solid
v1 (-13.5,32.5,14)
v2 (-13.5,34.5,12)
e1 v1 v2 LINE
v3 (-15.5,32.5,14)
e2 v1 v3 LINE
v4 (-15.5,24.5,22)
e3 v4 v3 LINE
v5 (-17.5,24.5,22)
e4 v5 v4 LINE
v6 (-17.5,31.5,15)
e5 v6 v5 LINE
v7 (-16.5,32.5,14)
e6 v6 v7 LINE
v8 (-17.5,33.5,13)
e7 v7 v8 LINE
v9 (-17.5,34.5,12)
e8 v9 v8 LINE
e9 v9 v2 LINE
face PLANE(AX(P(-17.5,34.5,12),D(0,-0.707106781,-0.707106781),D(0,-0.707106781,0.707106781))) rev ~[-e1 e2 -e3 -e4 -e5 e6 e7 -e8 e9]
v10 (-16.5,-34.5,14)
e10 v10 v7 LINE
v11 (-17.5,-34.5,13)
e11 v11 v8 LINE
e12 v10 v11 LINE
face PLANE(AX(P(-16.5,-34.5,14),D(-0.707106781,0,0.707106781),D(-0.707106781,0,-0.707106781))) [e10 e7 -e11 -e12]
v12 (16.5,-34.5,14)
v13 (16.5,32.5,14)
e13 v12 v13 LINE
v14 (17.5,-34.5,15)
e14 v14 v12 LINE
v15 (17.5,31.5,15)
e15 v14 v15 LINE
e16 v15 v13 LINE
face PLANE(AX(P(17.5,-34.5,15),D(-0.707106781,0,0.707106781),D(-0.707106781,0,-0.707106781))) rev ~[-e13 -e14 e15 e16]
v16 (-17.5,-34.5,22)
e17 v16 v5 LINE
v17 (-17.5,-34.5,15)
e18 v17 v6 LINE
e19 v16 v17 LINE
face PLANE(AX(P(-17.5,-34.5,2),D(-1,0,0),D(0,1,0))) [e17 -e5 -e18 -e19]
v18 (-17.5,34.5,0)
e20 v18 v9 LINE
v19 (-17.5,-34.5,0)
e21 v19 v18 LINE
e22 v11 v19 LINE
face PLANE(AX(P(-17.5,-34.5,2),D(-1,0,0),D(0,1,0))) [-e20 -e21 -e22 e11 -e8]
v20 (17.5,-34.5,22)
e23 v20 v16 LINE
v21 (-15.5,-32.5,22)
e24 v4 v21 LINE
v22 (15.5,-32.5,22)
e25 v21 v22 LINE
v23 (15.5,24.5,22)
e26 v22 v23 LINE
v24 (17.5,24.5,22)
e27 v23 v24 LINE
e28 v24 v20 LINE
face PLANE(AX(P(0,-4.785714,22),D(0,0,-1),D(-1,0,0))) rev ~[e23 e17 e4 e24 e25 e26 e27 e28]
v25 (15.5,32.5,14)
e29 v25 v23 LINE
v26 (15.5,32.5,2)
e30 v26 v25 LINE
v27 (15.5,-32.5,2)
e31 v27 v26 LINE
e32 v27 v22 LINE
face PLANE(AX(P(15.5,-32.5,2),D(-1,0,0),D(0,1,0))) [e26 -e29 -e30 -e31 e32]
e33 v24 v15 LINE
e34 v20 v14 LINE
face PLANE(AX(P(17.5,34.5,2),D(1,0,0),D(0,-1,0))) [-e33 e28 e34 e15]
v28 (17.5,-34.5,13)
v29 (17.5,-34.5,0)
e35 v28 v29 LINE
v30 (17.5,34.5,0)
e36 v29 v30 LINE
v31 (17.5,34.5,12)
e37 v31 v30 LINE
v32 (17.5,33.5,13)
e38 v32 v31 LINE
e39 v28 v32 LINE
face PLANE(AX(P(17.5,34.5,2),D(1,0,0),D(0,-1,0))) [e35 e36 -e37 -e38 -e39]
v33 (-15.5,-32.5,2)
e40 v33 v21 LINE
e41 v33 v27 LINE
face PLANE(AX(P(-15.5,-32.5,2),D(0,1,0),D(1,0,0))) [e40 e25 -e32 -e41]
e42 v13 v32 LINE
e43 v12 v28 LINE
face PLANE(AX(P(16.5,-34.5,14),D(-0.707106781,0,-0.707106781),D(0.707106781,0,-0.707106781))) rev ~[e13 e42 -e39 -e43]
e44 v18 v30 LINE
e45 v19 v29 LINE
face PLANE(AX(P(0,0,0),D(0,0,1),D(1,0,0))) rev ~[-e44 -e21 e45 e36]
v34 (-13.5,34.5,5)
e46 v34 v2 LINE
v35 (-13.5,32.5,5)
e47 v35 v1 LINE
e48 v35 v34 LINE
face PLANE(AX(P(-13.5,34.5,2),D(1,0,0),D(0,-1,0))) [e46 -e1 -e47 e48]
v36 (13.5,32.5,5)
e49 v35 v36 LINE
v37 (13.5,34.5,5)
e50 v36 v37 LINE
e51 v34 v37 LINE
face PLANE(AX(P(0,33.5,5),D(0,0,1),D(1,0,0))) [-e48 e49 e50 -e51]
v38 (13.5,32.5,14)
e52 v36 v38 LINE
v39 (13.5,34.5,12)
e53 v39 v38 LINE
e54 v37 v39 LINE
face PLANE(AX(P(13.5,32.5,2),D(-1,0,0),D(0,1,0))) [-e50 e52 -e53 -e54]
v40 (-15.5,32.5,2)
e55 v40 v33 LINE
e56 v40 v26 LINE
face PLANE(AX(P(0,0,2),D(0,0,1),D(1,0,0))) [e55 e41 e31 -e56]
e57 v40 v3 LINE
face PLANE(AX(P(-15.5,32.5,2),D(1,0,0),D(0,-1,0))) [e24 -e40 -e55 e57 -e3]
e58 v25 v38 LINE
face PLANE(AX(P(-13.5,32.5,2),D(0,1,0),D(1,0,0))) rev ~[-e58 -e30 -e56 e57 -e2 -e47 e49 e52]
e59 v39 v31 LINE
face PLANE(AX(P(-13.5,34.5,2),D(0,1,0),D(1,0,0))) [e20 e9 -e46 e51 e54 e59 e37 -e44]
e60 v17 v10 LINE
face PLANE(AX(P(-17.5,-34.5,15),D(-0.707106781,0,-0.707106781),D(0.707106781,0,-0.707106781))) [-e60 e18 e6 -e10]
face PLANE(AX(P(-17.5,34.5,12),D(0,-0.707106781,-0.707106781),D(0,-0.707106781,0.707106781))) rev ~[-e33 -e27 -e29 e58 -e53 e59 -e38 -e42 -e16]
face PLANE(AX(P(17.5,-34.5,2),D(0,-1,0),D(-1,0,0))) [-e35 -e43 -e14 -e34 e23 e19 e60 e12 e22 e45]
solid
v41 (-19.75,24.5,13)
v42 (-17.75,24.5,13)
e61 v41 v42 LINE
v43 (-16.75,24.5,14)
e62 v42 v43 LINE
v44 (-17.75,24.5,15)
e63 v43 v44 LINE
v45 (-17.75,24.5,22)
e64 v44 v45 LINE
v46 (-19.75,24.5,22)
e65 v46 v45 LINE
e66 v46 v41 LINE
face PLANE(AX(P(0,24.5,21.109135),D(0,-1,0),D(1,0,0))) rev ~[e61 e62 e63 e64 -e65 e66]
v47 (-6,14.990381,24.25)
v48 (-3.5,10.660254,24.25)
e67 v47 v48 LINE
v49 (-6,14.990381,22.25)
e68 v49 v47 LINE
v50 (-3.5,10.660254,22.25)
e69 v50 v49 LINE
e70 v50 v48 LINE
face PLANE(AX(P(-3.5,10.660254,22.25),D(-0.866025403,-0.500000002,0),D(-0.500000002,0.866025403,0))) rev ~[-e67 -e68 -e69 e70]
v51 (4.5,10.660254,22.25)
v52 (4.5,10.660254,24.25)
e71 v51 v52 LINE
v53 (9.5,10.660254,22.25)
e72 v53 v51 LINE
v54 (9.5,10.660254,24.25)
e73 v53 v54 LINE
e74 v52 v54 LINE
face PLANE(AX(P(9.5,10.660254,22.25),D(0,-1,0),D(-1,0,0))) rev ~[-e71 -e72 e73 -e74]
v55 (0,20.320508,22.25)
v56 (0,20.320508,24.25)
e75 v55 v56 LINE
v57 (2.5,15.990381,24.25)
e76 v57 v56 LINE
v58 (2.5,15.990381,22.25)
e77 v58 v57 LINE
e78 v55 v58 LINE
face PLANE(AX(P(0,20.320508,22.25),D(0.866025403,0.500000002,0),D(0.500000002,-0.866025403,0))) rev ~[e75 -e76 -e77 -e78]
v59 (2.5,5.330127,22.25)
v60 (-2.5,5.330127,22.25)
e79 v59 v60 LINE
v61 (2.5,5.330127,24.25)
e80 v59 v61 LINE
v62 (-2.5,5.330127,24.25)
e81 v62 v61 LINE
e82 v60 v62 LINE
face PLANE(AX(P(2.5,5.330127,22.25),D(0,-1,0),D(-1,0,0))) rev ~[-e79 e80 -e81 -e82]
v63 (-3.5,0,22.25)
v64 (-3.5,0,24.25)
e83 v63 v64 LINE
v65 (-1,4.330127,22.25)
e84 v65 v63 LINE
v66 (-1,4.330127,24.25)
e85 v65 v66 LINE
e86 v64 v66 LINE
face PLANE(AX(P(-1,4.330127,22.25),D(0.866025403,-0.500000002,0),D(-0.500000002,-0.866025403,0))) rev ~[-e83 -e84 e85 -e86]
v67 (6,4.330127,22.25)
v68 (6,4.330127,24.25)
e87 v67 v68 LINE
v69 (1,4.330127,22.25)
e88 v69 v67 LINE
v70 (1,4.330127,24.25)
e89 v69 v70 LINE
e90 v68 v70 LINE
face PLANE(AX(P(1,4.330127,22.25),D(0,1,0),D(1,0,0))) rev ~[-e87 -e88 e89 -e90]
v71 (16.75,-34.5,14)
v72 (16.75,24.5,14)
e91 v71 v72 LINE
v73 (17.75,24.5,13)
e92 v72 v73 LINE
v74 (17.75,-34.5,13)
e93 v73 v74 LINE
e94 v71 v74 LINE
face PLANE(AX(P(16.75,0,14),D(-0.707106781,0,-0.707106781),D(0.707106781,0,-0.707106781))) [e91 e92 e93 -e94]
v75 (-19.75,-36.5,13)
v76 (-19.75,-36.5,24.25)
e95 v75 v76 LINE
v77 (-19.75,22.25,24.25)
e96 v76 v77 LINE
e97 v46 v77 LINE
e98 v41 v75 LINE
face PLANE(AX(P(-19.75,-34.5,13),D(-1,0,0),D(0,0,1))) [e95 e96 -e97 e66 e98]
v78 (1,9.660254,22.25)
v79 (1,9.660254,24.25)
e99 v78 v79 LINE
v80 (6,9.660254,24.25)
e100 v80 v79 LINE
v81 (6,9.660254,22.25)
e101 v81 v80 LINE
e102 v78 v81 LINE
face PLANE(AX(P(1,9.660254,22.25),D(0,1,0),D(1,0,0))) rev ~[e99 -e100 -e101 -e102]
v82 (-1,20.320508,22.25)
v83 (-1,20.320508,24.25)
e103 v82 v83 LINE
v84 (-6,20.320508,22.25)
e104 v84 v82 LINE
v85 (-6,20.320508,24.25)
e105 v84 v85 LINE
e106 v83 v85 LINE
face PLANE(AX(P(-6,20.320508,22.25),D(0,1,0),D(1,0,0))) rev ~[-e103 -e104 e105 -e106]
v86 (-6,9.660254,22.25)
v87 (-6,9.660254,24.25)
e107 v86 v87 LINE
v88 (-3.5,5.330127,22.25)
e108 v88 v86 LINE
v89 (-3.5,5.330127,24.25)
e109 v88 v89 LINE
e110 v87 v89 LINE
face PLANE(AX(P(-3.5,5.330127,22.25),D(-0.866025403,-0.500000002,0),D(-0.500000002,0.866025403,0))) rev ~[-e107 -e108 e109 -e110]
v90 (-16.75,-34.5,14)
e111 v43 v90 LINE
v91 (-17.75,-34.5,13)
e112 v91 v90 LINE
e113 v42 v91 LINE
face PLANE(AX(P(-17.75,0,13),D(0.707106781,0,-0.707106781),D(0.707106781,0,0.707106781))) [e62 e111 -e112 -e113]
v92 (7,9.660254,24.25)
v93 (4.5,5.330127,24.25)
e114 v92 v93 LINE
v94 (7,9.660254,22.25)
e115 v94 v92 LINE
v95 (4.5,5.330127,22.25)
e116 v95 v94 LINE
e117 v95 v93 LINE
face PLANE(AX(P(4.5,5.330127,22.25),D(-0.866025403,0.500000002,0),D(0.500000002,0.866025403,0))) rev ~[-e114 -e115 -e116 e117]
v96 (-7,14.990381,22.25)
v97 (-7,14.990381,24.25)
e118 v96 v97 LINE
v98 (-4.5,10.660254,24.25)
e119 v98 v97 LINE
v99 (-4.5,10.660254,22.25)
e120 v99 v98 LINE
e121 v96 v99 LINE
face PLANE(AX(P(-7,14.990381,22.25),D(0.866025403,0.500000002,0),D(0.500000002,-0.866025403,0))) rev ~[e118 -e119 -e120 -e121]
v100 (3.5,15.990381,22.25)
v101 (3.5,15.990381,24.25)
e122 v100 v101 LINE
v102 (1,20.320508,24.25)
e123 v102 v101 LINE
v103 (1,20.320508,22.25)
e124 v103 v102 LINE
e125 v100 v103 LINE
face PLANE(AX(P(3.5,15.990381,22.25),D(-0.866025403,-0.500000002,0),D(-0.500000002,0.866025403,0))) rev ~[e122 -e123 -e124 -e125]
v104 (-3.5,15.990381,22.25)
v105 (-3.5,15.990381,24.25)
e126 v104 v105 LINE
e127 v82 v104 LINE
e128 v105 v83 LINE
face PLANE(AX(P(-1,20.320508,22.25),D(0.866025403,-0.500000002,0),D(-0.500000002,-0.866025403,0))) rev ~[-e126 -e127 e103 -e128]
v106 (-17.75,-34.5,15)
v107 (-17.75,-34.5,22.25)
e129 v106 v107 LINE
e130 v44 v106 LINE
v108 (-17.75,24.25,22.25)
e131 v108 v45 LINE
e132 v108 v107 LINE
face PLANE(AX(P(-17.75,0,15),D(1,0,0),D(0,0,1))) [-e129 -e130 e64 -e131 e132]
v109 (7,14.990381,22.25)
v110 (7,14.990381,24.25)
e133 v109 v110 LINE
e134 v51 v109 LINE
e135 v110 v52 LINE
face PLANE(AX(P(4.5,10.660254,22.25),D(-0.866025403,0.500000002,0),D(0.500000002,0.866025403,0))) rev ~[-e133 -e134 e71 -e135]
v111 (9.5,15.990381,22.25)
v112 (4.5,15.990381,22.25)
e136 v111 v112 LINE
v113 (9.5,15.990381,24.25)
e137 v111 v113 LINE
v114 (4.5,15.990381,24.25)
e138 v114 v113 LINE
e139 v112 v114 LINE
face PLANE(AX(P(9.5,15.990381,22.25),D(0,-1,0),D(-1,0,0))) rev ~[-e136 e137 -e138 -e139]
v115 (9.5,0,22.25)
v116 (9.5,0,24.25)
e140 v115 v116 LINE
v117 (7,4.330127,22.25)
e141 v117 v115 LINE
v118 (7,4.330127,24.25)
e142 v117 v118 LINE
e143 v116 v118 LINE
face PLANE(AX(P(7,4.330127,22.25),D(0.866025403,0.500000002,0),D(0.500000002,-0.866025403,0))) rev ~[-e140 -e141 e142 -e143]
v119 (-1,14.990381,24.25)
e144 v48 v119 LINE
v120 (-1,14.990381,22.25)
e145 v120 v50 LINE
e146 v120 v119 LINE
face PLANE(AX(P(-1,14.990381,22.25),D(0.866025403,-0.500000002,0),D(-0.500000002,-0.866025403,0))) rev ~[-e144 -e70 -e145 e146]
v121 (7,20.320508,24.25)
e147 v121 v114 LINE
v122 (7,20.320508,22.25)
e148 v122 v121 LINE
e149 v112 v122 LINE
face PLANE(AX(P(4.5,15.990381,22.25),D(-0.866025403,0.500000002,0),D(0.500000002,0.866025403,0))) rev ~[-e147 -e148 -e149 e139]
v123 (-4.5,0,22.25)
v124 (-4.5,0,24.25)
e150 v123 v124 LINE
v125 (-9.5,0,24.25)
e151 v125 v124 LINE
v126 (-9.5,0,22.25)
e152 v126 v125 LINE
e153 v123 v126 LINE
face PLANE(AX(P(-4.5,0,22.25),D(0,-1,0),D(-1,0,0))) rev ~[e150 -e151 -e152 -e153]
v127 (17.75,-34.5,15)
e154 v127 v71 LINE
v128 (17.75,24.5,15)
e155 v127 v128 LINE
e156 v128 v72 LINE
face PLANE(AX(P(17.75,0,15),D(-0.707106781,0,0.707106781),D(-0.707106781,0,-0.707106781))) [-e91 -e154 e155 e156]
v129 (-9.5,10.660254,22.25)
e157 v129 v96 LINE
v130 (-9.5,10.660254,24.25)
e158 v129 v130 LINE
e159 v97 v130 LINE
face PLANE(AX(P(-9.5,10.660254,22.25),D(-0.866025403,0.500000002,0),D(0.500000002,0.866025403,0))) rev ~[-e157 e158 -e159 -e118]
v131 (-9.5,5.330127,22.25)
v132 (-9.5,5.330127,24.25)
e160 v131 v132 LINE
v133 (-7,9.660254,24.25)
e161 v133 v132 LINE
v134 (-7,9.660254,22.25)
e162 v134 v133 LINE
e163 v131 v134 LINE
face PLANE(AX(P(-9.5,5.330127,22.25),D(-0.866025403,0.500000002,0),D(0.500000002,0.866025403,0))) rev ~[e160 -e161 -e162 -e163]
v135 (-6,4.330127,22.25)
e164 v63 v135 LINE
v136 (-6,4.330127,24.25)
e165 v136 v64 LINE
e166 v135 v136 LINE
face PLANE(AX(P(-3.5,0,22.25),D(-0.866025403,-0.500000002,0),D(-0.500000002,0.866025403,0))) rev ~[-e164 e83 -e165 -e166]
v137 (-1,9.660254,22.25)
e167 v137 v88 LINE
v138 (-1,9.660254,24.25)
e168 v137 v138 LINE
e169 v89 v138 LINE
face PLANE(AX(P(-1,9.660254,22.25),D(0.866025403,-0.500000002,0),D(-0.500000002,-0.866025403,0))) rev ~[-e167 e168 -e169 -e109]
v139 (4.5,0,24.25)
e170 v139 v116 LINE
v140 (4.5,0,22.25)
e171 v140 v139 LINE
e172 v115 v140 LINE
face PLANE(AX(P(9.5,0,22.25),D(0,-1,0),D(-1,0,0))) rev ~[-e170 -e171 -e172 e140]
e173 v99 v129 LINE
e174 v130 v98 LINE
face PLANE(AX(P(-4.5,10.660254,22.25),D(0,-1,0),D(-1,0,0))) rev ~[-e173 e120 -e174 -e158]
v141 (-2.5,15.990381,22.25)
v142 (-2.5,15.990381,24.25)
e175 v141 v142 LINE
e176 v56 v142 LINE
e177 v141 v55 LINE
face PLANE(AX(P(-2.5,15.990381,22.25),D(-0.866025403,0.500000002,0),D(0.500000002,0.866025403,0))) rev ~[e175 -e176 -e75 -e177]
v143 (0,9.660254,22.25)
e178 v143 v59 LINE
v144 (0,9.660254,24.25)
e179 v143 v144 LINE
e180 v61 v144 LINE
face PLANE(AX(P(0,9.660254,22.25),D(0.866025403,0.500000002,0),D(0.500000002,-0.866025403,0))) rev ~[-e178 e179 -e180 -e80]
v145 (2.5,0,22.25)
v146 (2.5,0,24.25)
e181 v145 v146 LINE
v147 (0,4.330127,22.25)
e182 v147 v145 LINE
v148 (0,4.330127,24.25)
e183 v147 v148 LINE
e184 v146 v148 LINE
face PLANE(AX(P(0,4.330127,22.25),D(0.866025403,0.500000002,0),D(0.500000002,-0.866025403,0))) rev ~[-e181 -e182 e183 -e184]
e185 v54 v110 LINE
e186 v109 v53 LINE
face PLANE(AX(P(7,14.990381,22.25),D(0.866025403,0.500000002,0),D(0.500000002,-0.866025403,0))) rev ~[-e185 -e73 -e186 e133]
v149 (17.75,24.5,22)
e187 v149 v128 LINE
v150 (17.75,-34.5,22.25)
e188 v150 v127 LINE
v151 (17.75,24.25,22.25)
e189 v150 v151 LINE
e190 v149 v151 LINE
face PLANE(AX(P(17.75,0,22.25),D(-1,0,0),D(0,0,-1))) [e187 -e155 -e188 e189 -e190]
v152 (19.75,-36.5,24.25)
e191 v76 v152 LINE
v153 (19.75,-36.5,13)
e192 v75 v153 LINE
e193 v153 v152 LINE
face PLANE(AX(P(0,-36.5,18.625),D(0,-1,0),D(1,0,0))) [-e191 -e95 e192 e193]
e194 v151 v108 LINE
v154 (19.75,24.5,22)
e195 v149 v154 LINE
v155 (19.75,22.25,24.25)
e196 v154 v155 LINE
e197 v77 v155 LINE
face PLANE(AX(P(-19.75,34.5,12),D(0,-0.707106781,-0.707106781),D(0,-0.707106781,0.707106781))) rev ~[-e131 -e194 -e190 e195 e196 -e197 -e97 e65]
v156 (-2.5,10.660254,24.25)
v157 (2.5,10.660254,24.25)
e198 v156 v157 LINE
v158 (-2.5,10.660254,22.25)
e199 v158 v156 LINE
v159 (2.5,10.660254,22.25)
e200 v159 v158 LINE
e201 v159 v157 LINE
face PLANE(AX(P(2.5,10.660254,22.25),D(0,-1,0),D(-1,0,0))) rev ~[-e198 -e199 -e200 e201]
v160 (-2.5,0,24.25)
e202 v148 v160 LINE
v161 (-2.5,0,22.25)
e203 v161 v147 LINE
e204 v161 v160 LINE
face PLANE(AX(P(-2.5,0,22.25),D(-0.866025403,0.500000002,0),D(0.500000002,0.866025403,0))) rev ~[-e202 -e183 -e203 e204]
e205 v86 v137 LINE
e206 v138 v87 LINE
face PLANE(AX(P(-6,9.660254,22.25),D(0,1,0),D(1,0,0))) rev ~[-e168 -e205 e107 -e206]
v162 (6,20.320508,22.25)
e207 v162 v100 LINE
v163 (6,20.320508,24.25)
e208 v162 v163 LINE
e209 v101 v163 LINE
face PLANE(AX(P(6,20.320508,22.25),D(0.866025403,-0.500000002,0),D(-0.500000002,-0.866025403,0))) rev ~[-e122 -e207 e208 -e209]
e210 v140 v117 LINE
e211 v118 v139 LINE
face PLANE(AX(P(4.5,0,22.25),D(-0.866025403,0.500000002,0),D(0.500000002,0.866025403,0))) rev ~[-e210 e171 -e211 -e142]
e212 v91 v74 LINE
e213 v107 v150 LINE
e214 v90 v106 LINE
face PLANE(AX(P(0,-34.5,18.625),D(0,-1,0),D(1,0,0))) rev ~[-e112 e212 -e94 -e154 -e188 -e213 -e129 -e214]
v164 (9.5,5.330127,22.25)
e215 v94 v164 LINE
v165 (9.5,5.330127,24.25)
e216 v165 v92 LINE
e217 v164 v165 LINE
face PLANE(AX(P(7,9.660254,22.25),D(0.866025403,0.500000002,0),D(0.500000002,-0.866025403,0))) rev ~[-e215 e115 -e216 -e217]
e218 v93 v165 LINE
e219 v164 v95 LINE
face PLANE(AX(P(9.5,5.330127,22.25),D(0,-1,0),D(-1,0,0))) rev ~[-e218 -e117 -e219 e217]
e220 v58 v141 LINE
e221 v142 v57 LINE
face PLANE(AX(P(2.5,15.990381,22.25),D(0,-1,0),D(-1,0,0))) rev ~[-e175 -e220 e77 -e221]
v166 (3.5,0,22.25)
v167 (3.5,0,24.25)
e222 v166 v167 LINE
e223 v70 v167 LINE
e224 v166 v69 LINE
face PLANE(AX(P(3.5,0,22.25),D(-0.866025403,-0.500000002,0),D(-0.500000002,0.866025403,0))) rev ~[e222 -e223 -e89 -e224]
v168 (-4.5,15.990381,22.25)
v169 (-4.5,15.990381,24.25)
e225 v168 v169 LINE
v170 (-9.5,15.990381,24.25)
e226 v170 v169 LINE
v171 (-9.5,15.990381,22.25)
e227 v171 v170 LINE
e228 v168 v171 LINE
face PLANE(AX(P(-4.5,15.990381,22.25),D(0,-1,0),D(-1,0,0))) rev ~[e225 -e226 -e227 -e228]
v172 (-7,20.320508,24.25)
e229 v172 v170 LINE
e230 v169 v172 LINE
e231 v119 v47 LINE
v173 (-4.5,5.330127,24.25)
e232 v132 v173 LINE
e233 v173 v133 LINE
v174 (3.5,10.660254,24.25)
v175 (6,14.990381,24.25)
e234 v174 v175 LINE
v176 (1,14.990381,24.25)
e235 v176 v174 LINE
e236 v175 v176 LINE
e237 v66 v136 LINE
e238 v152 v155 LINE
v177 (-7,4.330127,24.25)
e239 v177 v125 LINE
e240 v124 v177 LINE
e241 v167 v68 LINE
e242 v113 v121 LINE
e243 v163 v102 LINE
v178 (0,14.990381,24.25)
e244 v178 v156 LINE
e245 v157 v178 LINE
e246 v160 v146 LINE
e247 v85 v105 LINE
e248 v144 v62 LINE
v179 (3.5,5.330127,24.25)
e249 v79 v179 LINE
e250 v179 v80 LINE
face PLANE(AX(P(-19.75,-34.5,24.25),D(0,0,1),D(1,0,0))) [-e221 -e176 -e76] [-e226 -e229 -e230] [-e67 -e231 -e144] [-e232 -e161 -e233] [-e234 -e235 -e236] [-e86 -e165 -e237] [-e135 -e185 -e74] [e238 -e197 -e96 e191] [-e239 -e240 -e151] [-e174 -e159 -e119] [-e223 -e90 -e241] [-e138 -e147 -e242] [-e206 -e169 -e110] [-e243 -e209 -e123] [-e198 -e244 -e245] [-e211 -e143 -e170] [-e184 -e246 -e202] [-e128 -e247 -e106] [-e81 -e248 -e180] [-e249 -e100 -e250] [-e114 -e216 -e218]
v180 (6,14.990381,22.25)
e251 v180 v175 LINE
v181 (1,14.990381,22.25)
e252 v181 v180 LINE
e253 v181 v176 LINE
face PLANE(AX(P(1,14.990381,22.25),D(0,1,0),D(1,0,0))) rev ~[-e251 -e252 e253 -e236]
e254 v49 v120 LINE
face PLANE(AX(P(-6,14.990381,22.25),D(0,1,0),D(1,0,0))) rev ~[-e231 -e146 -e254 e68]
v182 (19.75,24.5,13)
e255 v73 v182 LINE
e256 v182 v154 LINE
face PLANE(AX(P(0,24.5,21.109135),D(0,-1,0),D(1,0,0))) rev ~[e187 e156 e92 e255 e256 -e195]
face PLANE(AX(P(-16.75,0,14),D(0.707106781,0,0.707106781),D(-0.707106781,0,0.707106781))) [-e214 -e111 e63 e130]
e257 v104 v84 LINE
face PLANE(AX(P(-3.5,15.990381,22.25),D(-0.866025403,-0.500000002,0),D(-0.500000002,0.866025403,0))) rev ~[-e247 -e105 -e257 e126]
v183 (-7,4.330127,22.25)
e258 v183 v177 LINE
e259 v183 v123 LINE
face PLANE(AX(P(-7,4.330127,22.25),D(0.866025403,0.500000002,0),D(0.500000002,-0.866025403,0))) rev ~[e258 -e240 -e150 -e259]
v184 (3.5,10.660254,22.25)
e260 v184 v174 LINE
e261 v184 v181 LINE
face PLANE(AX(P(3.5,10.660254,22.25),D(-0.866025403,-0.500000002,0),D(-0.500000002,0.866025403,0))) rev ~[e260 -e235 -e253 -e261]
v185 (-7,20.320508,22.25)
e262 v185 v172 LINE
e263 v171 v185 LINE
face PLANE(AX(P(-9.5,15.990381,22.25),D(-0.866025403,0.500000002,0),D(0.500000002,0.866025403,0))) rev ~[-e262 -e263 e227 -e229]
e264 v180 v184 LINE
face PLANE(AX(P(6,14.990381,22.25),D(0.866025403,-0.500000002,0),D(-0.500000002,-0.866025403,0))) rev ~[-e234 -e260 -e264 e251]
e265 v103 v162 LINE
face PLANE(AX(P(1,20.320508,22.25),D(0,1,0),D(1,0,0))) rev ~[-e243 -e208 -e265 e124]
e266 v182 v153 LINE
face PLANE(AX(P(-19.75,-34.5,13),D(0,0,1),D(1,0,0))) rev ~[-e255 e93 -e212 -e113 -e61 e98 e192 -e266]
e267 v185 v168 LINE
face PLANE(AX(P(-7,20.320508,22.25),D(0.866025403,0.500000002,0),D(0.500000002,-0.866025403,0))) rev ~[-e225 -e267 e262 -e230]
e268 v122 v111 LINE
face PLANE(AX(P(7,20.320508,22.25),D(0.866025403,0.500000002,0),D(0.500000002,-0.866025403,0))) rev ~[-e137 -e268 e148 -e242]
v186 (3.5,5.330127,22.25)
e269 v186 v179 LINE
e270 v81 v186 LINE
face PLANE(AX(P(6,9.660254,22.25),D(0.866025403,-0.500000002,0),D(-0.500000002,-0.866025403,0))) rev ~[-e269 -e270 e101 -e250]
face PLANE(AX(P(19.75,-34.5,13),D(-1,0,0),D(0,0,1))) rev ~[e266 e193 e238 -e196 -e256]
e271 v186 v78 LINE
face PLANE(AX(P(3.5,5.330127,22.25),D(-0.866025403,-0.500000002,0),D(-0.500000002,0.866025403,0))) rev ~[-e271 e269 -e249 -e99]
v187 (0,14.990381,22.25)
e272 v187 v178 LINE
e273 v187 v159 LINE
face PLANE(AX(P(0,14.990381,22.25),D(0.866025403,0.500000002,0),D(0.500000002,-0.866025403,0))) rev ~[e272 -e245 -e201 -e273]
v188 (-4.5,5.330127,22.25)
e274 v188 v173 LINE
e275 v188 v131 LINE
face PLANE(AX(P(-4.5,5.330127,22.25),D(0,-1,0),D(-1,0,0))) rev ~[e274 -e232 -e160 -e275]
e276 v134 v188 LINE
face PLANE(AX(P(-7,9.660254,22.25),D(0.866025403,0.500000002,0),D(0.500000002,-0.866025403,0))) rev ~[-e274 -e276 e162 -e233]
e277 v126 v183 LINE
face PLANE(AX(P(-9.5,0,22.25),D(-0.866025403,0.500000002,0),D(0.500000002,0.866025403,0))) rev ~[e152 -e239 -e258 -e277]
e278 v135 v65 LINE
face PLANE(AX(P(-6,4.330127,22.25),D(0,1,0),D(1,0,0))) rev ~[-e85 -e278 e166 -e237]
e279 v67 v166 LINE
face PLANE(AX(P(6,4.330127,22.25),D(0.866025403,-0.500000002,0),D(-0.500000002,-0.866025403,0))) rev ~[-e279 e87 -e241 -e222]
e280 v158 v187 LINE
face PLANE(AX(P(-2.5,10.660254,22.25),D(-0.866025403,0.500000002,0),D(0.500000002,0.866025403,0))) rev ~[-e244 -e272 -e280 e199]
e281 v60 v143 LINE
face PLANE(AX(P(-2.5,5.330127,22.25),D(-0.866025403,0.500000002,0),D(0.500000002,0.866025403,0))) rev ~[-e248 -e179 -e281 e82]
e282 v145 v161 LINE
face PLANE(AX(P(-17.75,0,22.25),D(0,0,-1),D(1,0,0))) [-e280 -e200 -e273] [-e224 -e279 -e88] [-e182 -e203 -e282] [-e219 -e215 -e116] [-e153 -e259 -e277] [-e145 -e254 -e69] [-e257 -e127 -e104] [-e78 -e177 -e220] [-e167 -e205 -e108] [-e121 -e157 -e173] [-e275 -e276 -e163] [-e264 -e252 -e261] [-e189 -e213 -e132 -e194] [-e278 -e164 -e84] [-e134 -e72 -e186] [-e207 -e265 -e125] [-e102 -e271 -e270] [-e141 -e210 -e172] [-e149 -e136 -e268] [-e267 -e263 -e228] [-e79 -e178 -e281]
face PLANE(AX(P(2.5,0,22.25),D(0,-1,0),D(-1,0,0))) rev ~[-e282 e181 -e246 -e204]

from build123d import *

# Parameters (mm, degrees)
SKETCH_W          = 35
SKETCH_H          = 69
PAD_DEPTH         = 2
PAD001_DEPTH      = 20
SKETCH002_W       = 27
SKETCH002_H       = 2
PAD002_DEPTH      = 3
POCKET_DEPTH      = 35.001
POCKET001_DEPTH   = 69.001
PAD003_DEPTH      = 34.5
PAD003_DEPTH_BACK = 24.5
SKETCH006_W       = 39.5
SKETCH006_H       = 11.25
PAD004_DEPTH      = 2
POCKET002_DEPTH   = 39.501
POCKET003_DEPTH   = 2.001


with BuildPart() as body:
    # Sketch → Pad (new body)
    with BuildSketch(Plane.XY):
        Rectangle(SKETCH_W, SKETCH_H)
    extrude(amount=PAD_DEPTH)

    # Sketch001 (on Face6 of Pad) → Pad001 (join)
    with BuildSketch(Plane.XY.offset(2)):
        Polygon((-15.5, -32.5), (15.5, -32.5), (15.5, 32.5), (13.5, 32.5), (13.5, 34.5), (17.5, 34.5), (17.5, -34.5), (-17.5, -34.5), (-17.5, 34.5), (-13.5, 34.5), (-13.5, 32.5), (-15.5, 32.5), align=None)
    extrude(amount=PAD001_DEPTH)

    # Sketch002 (on Face6 of Pad001) → Pad002 (join)
    with BuildSketch(Plane.XY.offset(2)):
        with Locations((0, 33.5)):
            Rectangle(SKETCH002_W, SKETCH002_H)
    extrude(amount=PAD002_DEPTH)

    # Sketch003 (on Face9 of Pad002) → Pocket (cut, through all)
    with BuildSketch(Plane(origin=(-17.5, 0, 0), x_dir=(0, -1, 0), z_dir=(-1, 0, 0))):
        Polygon((-34.5, 22), (-34.5, 12), (-24.5, 22), align=None)
    extrude(amount=-POCKET_DEPTH, mode=Mode.SUBTRACT)

    # Sketch004 (on Face16 of Pocket) → Pocket001 (cut, through all)
    with BuildSketch(Plane.XZ.offset(34.5)):
        Polygon((-17.5, 15), (-16.5, 14), (-17.5, 13), align=None)
        Polygon((17.5, 15), (16.5, 14), (17.5, 13), align=None)
    extrude(amount=-POCKET001_DEPTH, mode=Mode.SUBTRACT)


with BuildPart() as lid:
    # Sketch005 → Pad003 (new body, two sides)
    with BuildSketch(Plane.XZ) as pad003_sk:
        Polygon((16.75, 14), (17.75, 13), (19.75, 13), (19.75, 24.25), (-19.75, 24.25), (-19.75, 13), (-17.75, 13), (-16.75, 14), (-17.75, 15), (-17.75, 22.25), (17.75, 22.25), (17.75, 15), align=None)
    extrude(amount=PAD003_DEPTH)
    extrude(pad003_sk.sketch, amount=-PAD003_DEPTH_BACK)

    # Sketch006 (on Face14 of Pad003) → Pad004 (join)
    with BuildSketch(Plane.XZ.offset(34.5)):
        with Locations((0, 18.625)):
            Rectangle(SKETCH006_W, SKETCH006_H)
    extrude(amount=PAD004_DEPTH)

    # Sketch007 (on Face10 of Pad004) → Pocket002 (cut, through all)
    with BuildSketch(Plane(origin=(-19.75, 0, 0), x_dir=(0, 0, -1), z_dir=(-1, 0, 0))):
        Polygon((-12, -34.5), (-24.25, -22.25), (-24.25, -34.5), align=None)
    extrude(amount=-POCKET002_DEPTH, mode=Mode.SUBTRACT)

    # Sketch008 (on Face10 of Pocket002) → Pocket003 (cut, through all)
    with BuildSketch(Plane(origin=(0, 0, 22.25), x_dir=(1, 0, 0), z_dir=(0, 0, -1))):
        Polygon((-9.5, 0), (-7, -4.330127), (-4.5, 0), align=None)
        Polygon((-2.5, 0), (0, -4.330127), (2.5, 0), align=None)
        Polygon((9.5, 0), (4.5, 0), (7, -4.330127), align=None)
        Polygon((-3.5, 0), (-6, -4.330127), (-1, -4.330127), align=None)
        Polygon((3.5, 0), (1, -4.330127), (6, -4.330127), align=None)
        Polygon((-9.5, -5.330127), (-7, -9.660254), (-4.5, -5.330127), align=None)
        Polygon((-2.5, -5.330127), (0, -9.660254), (2.5, -5.330127), align=None)
        Polygon((9.5, -5.330127), (4.5, -5.330127), (7, -9.660254), align=None)
        Polygon((-3.5, -5.330127), (-6, -9.660254), (-1, -9.660254), align=None)
        Polygon((3.5, -5.330127), (1, -9.660254), (6, -9.660254), align=None)
        Polygon((-9.5, -10.660254), (-7, -14.990381), (-4.5, -10.660254), align=None)
        Polygon((-2.5, -10.660254), (0, -14.990381), (2.5, -10.660254), align=None)
        Polygon((9.5, -10.660254), (4.5, -10.660254), (7, -14.990381), align=None)
        Polygon((-3.5, -10.660254), (-6, -14.990381), (-1, -14.990381), align=None)
        Polygon((3.5, -10.660254), (1, -14.990381), (6, -14.990381), align=None)
        Polygon((-9.5, -15.990381), (-7, -20.320508), (-4.5, -15.990381), align=None)
        Polygon((-2.5, -15.990381), (0, -20.320508), (2.5, -15.990381), align=None)
        Polygon((9.5, -15.990381), (4.5, -15.990381), (7, -20.320508), align=None)
        Polygon((-3.5, -15.990381), (-6, -20.320508), (-1, -20.320508), align=None)
        Polygon((3.5, -15.990381), (1, -20.320508), (6, -20.320508), align=None)
    extrude(amount=-POCKET003_DEPTH, mode=Mode.SUBTRACT)


solid = Compound([body.part, lid.part])
